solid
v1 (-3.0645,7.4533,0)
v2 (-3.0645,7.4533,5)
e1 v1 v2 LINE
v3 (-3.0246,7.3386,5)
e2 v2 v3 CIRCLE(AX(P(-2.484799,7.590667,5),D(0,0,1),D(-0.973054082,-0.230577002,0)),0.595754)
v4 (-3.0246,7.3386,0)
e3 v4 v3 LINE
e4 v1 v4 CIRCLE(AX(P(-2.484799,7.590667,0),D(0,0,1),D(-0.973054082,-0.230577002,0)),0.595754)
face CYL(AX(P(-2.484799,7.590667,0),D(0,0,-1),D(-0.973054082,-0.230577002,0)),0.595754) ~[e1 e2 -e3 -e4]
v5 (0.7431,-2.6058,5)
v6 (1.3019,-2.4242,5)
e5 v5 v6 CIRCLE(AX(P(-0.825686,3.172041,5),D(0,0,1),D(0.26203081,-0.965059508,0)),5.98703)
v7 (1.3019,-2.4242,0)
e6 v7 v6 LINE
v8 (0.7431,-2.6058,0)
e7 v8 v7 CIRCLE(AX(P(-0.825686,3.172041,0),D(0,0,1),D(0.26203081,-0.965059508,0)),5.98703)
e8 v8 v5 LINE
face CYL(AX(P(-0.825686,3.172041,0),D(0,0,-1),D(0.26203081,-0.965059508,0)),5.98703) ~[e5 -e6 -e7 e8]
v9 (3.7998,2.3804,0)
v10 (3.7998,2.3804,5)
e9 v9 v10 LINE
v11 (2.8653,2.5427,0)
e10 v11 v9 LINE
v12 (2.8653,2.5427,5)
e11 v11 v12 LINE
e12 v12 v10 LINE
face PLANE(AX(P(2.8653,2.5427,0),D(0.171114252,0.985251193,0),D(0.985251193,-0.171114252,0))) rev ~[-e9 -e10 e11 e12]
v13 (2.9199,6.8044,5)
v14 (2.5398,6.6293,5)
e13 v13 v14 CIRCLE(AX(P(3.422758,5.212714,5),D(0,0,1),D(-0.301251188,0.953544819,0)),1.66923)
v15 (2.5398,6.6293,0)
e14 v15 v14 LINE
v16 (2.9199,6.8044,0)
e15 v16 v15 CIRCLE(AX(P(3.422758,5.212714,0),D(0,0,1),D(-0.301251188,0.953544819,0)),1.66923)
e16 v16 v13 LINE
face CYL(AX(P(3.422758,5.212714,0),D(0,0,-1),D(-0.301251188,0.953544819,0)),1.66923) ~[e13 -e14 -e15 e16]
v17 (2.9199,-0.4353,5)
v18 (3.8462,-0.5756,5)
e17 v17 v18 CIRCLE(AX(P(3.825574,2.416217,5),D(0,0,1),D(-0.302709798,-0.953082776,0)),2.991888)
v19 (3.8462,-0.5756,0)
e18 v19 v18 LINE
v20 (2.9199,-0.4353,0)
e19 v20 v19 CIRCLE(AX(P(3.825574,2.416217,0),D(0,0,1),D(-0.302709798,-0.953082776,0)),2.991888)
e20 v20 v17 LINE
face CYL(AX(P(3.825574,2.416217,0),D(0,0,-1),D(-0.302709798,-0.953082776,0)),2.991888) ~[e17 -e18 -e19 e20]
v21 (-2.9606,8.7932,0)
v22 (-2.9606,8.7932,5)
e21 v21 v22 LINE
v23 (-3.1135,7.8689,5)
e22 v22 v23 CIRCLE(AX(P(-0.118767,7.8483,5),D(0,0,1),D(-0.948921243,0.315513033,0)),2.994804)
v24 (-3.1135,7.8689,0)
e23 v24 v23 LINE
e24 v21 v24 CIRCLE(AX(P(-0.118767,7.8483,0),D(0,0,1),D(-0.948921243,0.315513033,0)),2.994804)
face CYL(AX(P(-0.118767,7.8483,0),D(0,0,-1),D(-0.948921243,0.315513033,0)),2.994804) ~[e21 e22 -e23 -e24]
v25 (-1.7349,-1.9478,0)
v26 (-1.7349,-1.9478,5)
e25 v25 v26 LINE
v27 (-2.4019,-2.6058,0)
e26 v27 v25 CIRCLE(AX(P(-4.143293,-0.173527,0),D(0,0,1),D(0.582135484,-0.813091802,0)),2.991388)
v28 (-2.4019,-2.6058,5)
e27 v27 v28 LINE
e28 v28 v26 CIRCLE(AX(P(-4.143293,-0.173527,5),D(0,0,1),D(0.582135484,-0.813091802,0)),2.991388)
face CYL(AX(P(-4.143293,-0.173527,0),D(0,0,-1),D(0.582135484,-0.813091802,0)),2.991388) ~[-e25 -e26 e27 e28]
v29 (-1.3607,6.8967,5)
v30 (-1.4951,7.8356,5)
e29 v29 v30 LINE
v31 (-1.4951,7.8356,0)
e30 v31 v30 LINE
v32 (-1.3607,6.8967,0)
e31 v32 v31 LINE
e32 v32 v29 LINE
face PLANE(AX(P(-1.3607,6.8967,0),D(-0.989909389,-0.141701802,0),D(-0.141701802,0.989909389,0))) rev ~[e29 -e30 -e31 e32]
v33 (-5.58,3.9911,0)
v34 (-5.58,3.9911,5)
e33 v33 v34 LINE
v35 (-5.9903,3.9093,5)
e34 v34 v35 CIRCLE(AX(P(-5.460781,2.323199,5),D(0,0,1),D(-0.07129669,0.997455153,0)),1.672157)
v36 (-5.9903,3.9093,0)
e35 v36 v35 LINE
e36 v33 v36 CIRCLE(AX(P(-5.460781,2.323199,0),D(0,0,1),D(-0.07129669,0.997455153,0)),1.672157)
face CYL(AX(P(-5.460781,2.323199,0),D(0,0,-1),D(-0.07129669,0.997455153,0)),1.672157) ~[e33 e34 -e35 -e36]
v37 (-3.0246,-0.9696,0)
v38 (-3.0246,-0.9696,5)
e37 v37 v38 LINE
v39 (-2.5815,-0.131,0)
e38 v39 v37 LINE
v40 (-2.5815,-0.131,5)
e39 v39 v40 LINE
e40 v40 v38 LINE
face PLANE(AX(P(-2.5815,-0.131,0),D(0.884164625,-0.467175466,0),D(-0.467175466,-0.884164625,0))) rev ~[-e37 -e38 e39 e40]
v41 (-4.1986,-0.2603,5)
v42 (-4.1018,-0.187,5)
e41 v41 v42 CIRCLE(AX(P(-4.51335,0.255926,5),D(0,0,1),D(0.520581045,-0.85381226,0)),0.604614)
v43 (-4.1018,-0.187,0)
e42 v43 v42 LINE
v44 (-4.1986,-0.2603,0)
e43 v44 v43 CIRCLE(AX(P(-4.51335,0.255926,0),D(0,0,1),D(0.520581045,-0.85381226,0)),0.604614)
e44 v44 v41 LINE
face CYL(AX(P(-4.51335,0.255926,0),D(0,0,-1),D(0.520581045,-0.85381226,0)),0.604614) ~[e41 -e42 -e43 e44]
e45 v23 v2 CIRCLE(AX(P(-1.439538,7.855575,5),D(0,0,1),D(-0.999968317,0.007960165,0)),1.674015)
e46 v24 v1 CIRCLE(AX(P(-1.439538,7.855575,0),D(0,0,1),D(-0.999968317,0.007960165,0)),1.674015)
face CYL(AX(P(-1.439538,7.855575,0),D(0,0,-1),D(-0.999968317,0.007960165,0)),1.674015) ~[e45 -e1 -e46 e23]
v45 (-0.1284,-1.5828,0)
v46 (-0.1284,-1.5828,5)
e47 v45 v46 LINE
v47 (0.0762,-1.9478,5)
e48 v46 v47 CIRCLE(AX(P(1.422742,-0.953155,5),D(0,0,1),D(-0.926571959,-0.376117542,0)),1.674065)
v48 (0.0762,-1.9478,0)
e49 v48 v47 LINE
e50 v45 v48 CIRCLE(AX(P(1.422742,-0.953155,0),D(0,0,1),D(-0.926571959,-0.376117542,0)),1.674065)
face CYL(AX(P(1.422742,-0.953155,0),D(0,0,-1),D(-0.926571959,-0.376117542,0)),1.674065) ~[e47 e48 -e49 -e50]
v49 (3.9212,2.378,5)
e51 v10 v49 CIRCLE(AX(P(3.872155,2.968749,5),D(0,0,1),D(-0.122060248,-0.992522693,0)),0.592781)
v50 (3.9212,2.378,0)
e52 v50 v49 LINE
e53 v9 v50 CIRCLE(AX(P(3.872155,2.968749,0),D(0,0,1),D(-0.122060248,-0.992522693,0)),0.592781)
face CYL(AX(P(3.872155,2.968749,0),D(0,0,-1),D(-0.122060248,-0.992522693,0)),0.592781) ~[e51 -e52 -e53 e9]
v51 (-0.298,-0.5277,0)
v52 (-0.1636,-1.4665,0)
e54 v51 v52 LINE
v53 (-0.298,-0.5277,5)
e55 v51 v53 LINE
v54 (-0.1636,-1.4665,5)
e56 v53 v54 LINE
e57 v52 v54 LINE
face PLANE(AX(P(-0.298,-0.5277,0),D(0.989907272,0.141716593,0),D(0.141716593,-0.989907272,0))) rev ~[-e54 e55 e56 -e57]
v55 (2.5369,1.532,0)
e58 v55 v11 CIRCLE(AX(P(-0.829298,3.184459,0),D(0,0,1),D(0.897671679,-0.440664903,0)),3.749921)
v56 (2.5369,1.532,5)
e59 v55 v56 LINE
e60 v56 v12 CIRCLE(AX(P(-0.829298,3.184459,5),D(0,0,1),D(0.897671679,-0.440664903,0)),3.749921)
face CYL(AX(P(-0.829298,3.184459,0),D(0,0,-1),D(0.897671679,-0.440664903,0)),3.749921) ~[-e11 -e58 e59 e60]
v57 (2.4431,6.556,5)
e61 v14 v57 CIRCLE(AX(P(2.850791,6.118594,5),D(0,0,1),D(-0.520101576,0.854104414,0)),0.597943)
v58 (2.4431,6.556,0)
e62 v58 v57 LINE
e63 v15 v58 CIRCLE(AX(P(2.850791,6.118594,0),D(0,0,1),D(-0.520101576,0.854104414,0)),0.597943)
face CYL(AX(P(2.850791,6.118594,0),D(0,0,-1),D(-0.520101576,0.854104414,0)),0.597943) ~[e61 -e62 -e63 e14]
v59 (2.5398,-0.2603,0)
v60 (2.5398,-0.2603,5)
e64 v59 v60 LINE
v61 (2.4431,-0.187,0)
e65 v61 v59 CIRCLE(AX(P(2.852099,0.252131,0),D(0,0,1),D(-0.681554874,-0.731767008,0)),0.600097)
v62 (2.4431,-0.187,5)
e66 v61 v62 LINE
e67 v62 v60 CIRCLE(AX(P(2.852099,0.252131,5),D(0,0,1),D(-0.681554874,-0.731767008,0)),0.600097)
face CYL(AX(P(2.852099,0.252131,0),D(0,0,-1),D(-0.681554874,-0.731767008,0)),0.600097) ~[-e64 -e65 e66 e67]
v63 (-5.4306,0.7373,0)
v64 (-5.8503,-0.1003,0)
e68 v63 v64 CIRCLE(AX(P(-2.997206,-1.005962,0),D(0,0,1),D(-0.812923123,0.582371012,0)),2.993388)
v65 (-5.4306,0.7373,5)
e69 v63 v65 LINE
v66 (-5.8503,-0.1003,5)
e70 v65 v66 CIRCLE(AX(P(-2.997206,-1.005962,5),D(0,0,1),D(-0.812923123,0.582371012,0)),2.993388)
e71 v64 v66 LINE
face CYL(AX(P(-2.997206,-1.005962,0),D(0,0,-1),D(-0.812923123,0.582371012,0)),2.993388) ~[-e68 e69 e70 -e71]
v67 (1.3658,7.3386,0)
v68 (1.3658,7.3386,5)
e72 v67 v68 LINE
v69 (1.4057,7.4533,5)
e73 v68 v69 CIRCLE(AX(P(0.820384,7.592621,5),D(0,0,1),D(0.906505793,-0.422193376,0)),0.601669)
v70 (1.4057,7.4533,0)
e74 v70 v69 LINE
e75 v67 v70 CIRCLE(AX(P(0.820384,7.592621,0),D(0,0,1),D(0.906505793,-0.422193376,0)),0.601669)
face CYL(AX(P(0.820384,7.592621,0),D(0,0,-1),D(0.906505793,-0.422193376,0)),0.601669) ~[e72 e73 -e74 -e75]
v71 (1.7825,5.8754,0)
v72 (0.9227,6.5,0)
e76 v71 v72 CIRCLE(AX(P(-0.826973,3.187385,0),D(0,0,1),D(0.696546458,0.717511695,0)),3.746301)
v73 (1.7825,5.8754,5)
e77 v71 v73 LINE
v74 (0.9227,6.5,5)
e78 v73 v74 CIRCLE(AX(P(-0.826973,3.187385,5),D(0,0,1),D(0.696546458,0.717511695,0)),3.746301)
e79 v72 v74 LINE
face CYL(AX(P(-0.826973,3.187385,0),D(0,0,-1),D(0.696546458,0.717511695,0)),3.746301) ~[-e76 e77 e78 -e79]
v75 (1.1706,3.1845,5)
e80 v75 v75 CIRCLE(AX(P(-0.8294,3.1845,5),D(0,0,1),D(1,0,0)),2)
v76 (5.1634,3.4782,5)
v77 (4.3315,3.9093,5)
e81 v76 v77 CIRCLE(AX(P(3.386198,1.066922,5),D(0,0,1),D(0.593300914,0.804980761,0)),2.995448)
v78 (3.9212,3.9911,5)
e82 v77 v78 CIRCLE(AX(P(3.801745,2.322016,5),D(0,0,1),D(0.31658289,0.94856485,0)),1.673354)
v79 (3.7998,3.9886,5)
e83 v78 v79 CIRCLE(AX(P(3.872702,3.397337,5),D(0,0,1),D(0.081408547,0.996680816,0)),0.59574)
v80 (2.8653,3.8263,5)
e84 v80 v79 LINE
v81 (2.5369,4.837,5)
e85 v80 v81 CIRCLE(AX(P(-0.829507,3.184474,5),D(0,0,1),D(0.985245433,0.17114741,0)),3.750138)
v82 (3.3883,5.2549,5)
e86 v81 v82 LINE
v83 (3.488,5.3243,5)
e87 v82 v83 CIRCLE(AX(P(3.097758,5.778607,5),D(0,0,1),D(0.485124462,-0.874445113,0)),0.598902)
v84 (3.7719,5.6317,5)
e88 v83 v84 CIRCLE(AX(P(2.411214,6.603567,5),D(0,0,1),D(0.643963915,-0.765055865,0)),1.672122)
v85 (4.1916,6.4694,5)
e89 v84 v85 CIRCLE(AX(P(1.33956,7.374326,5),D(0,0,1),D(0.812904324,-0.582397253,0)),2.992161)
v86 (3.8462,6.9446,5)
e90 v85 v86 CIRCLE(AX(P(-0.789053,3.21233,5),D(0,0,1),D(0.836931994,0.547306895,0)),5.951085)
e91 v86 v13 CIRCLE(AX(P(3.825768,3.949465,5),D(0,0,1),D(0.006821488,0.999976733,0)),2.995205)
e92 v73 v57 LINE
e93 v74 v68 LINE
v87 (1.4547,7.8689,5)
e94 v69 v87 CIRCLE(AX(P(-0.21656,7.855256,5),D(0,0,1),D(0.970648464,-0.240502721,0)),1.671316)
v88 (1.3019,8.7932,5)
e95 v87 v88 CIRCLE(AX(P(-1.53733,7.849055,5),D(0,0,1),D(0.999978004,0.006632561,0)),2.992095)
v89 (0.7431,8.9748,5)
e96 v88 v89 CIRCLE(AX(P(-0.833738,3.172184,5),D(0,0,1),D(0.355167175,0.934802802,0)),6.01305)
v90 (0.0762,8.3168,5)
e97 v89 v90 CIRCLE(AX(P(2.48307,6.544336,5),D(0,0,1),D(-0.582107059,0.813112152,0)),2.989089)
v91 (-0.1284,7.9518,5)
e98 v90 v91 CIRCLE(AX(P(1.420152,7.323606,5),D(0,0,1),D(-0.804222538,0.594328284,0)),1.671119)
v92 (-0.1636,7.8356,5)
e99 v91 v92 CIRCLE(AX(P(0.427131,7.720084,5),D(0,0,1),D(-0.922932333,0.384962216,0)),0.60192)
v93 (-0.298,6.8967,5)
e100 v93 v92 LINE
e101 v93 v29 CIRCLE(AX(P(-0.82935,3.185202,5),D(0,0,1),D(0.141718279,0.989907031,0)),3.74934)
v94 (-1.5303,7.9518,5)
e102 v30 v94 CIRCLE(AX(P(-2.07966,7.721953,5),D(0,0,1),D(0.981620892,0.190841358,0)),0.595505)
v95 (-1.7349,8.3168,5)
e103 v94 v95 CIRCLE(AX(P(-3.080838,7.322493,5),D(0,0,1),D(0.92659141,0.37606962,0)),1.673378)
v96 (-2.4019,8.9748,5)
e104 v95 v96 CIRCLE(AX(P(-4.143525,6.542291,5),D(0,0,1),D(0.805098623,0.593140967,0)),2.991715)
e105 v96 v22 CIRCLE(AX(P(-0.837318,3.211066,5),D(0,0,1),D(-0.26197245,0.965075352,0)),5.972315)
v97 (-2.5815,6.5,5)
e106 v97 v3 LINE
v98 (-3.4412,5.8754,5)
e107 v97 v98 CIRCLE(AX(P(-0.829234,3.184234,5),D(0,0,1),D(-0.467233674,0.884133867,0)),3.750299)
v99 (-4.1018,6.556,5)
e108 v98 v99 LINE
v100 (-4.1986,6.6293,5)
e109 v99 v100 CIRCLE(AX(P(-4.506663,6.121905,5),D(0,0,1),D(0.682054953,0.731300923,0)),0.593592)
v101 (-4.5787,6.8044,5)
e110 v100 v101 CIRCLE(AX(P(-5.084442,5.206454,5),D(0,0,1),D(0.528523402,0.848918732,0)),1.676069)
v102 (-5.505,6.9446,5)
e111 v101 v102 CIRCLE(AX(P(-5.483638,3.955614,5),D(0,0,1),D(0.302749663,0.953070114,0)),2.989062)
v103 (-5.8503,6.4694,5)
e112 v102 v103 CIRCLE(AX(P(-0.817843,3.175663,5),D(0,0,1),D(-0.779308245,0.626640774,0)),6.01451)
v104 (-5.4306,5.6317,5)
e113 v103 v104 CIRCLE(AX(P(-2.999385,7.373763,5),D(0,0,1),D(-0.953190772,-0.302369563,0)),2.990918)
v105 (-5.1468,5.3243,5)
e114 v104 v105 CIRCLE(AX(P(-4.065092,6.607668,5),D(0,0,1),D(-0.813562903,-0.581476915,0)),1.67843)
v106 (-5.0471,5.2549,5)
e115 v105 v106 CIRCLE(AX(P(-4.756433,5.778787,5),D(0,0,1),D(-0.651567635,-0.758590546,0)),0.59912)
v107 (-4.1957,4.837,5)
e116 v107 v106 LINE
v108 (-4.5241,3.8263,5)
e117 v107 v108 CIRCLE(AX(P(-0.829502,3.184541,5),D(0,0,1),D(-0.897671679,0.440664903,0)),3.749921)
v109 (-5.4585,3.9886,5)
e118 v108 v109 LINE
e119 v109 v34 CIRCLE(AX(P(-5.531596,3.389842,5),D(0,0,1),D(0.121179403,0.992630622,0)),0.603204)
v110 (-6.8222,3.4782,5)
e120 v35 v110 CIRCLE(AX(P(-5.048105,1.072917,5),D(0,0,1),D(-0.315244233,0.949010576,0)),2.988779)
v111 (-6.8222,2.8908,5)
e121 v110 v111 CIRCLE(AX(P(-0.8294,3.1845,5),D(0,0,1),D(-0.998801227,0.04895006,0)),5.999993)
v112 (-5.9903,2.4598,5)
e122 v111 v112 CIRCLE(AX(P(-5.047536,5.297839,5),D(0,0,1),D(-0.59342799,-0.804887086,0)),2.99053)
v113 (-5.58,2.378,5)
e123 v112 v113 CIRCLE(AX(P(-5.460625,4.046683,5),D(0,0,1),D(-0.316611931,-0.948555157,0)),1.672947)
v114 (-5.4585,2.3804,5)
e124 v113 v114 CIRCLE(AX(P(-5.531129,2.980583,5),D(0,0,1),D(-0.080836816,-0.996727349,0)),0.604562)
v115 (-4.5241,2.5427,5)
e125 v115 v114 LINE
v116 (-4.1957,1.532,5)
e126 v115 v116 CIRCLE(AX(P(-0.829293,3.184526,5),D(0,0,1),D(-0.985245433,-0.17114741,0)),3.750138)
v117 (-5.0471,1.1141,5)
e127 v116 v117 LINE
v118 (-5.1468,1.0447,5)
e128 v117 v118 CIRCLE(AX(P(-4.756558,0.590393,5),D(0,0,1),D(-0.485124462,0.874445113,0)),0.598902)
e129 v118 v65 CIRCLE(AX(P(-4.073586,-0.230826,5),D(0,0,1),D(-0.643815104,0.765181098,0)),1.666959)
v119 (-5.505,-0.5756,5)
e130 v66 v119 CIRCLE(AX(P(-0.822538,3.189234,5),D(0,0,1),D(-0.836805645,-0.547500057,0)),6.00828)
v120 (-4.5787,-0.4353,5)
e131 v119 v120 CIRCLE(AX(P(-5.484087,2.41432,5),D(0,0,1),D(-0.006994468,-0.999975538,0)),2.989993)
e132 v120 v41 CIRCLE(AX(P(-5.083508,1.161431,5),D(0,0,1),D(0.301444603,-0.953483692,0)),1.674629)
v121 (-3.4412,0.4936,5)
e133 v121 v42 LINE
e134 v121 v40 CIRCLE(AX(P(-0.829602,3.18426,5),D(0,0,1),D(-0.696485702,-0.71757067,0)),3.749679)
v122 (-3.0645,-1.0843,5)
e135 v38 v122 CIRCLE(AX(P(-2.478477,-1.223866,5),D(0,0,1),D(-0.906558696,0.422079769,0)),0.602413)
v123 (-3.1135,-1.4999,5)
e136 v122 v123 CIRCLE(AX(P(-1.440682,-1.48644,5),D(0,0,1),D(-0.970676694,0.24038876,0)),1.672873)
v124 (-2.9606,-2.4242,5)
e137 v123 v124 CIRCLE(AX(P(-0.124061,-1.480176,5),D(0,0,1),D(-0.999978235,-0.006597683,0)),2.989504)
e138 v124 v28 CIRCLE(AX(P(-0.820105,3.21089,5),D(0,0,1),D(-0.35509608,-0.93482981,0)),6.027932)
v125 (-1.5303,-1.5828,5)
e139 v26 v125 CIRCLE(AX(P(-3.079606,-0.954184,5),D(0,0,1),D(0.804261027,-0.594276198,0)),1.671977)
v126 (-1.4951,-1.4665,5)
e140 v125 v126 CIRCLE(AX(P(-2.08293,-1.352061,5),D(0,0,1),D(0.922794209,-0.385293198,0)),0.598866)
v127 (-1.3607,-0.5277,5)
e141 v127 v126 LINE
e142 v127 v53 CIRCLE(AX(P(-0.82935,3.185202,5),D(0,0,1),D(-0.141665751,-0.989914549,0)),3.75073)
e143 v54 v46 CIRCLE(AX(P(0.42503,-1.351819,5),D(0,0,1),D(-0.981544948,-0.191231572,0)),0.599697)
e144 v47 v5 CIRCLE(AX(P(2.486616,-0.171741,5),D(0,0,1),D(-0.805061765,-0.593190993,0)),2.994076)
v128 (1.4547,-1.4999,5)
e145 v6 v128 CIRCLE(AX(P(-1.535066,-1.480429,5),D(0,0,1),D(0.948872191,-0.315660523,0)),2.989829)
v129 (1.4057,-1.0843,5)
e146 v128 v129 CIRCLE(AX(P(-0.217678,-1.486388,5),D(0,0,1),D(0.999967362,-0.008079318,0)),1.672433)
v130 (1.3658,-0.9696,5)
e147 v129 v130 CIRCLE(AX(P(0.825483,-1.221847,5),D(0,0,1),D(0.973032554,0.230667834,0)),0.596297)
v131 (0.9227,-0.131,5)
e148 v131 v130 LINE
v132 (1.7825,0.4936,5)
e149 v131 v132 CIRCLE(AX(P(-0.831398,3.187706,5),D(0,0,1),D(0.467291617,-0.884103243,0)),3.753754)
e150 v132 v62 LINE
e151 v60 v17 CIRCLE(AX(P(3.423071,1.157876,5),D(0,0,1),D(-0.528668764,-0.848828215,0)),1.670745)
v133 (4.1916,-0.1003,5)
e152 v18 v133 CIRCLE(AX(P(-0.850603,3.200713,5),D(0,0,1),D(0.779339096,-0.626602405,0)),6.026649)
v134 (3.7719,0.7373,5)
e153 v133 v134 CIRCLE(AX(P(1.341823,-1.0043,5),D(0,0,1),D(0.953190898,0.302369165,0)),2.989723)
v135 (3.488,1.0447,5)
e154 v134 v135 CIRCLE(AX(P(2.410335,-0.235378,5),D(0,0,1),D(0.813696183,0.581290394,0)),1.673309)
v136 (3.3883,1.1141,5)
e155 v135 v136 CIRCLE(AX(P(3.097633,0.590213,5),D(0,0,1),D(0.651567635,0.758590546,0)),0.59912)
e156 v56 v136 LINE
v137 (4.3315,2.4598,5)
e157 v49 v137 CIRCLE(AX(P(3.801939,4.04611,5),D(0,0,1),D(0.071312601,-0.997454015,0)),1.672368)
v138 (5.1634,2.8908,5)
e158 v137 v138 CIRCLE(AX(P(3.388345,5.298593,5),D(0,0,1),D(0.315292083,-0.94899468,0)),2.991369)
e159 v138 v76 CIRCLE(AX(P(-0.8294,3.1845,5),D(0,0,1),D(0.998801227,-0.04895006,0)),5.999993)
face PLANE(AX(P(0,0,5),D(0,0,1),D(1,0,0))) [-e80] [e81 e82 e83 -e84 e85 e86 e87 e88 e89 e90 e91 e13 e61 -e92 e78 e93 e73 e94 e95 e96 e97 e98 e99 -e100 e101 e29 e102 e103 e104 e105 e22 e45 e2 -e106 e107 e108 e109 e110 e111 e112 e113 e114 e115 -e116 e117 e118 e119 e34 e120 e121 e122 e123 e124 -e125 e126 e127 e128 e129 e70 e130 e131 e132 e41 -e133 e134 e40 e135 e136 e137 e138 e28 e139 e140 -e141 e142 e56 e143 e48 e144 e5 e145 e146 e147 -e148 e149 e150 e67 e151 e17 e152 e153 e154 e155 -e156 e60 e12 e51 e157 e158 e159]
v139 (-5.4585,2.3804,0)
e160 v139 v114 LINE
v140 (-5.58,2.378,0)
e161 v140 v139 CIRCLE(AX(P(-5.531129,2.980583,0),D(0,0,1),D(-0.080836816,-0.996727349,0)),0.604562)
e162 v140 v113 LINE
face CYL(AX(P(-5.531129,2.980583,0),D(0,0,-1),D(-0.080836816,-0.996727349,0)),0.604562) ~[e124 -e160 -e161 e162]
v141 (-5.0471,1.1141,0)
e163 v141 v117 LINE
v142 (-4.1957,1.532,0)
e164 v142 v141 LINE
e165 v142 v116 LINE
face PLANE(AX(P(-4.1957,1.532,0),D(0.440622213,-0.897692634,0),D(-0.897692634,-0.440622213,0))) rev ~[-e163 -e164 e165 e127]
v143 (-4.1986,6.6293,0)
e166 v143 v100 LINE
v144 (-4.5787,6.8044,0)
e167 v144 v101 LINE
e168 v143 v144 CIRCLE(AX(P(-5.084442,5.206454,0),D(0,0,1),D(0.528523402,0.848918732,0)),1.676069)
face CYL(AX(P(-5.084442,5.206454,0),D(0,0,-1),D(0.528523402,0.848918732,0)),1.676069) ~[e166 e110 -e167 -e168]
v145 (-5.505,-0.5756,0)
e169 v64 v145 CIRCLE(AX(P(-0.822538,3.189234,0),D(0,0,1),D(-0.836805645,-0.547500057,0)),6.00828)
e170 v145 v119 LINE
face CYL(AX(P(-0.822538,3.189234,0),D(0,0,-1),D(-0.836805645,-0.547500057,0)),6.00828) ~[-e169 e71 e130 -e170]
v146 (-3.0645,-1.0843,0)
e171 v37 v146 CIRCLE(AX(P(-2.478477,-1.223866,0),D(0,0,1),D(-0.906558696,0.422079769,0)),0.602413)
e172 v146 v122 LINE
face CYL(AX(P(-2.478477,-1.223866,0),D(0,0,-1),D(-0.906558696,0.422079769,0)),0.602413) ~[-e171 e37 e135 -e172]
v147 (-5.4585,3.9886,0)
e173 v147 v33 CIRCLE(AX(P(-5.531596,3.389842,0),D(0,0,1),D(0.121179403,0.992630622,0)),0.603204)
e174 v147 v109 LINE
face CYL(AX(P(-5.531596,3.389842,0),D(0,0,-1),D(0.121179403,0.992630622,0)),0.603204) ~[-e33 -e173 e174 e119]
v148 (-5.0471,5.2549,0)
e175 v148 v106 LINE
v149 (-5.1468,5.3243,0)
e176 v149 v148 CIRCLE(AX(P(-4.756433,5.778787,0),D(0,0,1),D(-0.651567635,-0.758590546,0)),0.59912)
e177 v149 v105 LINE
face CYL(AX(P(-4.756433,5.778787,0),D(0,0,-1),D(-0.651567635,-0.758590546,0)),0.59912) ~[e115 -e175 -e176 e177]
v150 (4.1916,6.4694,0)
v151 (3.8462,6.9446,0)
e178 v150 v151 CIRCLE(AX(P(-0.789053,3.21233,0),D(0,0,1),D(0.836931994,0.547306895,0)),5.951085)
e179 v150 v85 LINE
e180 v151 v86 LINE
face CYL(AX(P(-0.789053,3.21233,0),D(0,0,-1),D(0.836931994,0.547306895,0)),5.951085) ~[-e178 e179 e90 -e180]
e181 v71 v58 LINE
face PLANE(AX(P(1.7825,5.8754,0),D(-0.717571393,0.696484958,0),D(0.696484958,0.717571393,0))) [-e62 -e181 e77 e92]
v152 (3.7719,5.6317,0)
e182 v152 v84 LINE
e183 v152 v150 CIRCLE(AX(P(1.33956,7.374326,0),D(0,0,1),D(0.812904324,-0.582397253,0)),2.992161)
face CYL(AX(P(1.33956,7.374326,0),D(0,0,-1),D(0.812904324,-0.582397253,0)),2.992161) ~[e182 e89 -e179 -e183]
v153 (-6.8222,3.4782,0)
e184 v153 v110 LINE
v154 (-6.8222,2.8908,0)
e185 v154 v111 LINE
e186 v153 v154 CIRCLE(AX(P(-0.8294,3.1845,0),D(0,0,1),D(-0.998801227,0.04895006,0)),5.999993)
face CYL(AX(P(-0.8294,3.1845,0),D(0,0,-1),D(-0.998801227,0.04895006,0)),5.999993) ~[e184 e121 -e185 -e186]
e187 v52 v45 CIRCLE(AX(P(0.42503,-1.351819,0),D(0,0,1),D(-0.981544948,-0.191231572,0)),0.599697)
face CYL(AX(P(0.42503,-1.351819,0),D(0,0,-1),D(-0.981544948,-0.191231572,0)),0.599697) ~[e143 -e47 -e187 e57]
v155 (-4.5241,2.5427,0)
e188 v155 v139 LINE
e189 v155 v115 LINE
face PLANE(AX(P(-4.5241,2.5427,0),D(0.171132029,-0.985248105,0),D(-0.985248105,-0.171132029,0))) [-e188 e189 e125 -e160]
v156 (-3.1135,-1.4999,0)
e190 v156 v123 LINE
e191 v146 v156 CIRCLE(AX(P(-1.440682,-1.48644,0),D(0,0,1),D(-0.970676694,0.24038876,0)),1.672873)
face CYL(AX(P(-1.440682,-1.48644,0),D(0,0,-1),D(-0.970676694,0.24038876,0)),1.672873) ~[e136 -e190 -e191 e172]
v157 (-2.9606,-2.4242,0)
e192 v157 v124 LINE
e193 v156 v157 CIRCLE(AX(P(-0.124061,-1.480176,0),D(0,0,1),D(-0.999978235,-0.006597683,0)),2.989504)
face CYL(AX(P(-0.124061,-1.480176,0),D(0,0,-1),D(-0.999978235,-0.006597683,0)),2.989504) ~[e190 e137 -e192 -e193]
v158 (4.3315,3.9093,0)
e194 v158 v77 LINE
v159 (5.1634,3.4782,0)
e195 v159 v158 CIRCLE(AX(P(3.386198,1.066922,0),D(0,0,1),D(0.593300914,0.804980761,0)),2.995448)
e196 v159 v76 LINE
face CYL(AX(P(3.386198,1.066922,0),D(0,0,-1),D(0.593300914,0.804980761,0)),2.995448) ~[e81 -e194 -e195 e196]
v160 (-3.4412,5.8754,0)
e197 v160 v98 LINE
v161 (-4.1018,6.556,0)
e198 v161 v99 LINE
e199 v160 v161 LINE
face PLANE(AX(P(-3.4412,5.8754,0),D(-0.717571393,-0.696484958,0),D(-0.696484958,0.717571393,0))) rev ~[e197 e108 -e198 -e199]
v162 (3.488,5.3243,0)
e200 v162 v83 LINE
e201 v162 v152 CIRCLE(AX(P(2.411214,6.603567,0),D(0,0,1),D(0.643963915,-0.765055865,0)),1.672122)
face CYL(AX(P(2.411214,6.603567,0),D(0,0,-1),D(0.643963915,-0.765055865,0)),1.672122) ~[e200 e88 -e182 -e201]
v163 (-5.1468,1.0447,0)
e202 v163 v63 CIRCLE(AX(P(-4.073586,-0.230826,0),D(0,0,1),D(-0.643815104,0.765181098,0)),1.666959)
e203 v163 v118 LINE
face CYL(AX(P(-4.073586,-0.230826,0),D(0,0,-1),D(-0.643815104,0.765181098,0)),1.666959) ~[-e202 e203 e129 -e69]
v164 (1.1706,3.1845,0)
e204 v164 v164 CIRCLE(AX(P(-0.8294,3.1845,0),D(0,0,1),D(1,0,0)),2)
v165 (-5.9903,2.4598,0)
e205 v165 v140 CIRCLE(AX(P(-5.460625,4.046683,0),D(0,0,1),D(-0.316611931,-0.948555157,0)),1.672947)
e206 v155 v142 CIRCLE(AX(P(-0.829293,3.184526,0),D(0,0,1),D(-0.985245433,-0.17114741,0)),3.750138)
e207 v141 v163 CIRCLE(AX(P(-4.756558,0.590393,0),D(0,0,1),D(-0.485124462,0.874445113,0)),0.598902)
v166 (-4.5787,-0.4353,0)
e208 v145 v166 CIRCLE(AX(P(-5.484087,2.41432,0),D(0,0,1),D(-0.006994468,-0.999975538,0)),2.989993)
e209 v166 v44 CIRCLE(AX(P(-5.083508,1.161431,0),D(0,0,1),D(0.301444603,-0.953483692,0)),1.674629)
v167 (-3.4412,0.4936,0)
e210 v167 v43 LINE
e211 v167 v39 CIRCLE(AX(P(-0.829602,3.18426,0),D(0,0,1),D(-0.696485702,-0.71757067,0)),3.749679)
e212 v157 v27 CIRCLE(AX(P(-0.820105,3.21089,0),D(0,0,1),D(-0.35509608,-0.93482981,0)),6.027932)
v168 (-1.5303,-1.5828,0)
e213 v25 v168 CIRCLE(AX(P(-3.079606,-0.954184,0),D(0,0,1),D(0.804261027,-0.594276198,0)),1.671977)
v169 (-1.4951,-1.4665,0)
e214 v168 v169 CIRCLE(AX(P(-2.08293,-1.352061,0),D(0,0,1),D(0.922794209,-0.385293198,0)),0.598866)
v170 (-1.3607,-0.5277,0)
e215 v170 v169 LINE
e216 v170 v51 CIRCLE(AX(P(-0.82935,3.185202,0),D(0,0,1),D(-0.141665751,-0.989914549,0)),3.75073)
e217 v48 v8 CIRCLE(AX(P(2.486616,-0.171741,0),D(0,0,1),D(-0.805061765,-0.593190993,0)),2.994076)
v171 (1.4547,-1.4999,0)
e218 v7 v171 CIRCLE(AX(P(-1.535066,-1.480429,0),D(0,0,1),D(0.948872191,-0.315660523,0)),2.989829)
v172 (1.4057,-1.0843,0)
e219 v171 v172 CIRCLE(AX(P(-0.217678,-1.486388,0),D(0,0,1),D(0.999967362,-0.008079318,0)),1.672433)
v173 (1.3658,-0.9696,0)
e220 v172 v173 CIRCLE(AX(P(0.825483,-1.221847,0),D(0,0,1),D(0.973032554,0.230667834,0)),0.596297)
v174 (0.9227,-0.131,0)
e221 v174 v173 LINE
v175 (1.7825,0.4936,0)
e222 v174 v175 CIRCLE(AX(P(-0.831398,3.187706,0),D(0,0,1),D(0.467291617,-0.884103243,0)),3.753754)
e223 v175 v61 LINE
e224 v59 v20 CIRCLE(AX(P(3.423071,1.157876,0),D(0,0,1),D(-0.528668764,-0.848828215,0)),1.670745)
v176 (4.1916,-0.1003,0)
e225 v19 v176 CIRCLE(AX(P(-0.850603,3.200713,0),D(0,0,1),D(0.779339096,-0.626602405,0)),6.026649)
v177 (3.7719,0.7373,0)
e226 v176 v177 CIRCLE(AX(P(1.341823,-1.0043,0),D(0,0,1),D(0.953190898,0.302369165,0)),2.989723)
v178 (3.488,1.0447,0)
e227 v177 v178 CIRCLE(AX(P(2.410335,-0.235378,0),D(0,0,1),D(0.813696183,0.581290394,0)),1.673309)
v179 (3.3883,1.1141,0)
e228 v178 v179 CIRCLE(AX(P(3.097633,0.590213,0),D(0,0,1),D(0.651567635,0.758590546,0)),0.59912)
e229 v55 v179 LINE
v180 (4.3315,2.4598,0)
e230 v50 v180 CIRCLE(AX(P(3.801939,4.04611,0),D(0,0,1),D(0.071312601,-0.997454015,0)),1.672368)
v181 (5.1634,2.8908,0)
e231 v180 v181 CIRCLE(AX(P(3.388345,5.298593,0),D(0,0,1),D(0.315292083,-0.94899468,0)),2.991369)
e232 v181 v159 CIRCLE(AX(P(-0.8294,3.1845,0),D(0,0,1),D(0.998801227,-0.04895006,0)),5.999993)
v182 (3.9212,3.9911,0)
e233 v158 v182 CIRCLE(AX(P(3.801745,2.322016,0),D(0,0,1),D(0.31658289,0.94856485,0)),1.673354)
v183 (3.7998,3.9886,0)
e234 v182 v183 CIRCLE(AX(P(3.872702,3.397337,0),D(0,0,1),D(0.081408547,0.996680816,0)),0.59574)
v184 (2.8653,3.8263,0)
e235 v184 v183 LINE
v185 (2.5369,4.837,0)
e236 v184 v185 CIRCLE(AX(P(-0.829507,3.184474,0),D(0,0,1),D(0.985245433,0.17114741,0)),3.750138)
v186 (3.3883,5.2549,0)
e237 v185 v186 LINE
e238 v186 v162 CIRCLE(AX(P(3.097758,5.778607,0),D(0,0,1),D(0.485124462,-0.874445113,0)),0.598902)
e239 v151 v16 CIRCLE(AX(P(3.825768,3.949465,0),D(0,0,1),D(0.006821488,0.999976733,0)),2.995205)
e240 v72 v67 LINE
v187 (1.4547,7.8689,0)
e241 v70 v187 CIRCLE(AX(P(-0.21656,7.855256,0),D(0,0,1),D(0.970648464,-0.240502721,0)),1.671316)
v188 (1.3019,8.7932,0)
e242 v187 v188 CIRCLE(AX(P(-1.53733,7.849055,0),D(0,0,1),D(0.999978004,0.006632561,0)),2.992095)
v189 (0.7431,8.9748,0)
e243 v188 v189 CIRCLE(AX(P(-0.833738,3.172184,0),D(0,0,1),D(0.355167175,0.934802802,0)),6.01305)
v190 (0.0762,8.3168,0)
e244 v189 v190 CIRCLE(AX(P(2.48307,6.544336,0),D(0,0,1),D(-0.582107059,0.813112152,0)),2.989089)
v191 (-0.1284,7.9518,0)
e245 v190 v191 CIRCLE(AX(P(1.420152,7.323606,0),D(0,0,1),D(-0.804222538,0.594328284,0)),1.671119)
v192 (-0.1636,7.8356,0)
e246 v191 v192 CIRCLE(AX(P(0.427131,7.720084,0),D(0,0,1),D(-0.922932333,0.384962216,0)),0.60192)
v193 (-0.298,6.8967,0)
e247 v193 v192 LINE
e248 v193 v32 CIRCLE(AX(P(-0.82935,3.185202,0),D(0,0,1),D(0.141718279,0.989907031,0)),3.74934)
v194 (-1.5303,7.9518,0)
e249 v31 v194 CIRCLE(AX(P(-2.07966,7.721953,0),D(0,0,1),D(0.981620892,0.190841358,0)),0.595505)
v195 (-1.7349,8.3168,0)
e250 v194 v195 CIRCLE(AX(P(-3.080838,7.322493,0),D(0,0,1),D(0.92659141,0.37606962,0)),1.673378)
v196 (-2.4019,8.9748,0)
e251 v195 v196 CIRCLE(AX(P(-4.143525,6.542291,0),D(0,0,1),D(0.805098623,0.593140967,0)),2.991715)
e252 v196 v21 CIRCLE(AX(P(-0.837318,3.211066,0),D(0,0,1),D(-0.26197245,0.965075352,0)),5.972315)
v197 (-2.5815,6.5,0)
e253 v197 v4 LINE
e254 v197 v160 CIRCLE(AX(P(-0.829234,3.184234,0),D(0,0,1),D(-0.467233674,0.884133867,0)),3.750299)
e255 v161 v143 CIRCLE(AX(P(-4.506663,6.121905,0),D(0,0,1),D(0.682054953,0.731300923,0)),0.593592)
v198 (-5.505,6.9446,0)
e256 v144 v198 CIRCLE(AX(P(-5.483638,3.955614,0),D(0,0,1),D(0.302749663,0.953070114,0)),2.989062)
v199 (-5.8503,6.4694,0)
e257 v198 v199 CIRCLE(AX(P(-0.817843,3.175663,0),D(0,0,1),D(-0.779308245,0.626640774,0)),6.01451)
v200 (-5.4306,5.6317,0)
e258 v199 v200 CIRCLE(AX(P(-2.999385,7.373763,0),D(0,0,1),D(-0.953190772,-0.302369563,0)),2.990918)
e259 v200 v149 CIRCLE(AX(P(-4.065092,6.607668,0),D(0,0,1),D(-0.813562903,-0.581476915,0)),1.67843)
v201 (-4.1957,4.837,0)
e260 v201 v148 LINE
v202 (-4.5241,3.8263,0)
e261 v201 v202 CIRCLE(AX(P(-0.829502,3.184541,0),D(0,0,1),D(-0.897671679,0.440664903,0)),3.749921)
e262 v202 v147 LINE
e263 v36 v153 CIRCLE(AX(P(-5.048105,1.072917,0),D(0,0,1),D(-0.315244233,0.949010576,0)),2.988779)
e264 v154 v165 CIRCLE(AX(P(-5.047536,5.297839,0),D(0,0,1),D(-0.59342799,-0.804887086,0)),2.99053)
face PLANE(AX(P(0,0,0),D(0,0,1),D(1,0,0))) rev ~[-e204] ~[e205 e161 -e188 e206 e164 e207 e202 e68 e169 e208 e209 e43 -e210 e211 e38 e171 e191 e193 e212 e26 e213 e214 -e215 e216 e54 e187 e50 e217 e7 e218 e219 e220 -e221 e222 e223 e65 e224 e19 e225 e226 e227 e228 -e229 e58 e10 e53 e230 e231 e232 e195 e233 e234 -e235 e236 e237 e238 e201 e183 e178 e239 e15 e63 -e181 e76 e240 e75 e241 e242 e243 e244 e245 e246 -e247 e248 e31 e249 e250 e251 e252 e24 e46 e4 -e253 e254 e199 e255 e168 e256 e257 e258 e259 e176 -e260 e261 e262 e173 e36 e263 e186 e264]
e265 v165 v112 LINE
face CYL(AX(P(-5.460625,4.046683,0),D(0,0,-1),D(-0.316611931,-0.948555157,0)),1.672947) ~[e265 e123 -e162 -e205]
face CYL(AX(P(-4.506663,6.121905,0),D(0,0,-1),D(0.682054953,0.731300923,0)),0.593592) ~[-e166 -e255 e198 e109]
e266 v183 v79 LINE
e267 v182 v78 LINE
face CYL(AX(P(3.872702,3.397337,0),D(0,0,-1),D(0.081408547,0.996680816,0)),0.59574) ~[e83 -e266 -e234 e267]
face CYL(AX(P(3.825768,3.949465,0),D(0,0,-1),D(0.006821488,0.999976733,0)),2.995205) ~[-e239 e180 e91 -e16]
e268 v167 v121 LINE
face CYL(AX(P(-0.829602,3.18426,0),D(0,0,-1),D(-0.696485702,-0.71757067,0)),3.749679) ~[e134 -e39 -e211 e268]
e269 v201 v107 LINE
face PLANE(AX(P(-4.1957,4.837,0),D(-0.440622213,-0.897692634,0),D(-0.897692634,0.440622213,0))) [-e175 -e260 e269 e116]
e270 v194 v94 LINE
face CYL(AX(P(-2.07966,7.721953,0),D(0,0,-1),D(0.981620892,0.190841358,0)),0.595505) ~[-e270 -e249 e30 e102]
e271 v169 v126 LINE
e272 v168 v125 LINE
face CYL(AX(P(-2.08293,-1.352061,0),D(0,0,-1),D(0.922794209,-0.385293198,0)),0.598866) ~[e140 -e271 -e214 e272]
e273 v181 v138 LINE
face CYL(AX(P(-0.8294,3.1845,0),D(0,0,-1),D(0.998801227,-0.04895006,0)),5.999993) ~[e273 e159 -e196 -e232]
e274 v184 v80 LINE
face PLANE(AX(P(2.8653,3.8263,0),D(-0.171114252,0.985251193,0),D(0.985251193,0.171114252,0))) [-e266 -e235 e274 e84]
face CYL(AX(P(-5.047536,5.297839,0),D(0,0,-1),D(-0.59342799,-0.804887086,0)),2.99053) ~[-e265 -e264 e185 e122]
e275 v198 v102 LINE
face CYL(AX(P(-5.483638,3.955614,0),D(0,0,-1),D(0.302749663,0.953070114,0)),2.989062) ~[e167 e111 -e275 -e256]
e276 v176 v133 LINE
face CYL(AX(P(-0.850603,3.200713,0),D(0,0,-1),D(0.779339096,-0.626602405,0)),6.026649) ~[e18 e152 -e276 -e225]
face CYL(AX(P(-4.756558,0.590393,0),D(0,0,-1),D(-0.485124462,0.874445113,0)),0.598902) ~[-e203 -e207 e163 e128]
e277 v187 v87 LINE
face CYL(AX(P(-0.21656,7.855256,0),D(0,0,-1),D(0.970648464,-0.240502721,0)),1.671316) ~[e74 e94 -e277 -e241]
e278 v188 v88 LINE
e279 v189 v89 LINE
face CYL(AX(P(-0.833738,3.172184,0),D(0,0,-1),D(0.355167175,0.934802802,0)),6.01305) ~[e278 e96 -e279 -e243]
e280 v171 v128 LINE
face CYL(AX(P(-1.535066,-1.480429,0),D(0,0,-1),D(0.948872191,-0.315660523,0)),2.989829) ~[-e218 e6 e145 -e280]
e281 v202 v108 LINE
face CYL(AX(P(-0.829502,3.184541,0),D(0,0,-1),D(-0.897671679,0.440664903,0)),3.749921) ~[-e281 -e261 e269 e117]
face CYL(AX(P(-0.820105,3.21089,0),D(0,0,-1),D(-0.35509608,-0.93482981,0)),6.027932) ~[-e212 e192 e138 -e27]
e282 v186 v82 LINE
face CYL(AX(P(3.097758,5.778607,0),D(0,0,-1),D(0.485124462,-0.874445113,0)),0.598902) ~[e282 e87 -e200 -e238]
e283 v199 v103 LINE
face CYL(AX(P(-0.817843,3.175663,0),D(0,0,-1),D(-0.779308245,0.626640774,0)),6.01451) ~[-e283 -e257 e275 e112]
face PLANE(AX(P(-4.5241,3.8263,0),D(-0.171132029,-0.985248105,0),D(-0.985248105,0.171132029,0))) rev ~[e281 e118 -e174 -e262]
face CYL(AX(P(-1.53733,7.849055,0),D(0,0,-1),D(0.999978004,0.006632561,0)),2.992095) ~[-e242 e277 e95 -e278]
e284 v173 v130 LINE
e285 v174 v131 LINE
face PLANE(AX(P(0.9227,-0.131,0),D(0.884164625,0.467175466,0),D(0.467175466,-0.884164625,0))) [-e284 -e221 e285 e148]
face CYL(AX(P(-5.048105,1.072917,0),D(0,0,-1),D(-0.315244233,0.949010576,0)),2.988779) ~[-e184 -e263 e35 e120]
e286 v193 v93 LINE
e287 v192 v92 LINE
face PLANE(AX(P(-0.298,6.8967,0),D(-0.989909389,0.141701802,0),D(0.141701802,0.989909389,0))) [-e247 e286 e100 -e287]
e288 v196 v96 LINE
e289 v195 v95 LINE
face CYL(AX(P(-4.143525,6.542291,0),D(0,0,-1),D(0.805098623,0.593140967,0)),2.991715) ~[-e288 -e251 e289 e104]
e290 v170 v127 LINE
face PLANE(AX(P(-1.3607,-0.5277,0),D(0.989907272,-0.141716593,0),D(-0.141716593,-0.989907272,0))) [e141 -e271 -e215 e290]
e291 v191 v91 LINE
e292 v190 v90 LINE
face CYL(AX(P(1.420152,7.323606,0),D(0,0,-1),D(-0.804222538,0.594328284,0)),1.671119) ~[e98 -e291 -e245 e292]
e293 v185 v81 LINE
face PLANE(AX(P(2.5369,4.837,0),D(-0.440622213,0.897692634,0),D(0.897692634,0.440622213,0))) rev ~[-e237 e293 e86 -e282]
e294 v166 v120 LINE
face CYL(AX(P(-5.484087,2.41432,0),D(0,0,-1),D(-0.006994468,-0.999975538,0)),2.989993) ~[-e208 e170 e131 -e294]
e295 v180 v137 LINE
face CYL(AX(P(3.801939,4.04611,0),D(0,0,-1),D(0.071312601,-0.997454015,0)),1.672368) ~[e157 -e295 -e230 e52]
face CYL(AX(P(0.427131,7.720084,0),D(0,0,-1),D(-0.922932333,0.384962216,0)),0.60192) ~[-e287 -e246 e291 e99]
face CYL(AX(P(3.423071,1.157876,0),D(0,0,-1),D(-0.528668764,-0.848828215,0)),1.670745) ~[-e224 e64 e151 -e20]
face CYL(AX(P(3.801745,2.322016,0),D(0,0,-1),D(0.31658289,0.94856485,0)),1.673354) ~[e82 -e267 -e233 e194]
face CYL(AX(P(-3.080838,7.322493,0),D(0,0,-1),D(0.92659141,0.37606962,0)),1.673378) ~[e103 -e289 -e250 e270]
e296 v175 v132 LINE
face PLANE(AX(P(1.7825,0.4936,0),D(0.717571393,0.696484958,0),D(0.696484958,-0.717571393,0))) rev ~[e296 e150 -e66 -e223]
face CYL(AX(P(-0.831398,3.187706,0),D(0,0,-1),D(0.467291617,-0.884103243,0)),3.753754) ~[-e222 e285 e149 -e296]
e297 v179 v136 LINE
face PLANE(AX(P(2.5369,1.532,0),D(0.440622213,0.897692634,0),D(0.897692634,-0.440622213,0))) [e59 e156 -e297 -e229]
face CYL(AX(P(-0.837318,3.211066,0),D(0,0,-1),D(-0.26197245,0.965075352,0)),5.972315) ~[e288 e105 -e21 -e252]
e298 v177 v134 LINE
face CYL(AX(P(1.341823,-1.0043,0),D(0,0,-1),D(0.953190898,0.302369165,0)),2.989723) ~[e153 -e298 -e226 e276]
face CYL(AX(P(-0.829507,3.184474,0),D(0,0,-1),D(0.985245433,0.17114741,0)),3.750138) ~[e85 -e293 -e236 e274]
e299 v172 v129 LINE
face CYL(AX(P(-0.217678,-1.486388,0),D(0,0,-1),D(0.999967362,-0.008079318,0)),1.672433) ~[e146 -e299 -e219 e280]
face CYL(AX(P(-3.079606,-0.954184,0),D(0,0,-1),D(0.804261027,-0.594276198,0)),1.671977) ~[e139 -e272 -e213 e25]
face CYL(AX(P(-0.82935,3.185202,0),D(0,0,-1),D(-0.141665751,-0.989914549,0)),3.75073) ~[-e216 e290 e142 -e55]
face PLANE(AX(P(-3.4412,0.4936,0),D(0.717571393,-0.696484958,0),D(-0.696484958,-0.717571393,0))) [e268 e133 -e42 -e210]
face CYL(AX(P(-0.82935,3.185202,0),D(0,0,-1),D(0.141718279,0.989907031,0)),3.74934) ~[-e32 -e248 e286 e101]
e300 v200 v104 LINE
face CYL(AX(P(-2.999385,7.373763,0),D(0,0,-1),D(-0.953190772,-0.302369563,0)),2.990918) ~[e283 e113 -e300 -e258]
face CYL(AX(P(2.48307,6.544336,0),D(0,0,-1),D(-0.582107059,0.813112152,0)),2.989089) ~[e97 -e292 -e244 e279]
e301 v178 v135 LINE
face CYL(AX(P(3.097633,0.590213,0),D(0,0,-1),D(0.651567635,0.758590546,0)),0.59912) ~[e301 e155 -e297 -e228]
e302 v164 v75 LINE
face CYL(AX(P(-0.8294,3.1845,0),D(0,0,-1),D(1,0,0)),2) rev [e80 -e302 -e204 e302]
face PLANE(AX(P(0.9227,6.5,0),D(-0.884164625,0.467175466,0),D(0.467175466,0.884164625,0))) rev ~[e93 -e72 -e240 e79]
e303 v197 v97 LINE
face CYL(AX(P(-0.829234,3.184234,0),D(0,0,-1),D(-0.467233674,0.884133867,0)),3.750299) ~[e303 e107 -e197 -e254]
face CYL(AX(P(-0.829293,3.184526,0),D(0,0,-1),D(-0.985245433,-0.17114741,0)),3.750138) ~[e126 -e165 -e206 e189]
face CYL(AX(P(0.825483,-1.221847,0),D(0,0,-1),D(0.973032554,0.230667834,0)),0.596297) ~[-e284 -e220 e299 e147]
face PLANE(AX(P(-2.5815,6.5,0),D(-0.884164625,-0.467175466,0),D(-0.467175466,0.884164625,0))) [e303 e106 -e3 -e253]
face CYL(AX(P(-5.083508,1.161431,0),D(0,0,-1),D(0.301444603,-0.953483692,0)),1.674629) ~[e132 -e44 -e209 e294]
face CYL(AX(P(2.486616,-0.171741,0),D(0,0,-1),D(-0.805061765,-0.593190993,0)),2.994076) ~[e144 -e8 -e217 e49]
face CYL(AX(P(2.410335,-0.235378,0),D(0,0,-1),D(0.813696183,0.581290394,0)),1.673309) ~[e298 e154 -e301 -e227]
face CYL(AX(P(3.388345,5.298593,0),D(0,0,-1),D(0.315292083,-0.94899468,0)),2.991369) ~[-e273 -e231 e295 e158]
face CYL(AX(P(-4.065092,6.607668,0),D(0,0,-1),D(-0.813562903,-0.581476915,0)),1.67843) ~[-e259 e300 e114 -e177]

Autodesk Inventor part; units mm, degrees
ref_plane "YZ Plane" through (0, 0, 0) normal (1, 0, 0) x (0, 1, 0)
ref_plane "XZ Plane" through (0, 0, 0) normal (0, 1, 0) x (-1, 0, 0)
ref_plane "XY Plane" through (0, 0, 0) normal (0, 0, 1) x (1, 0, 0)
sketch "スケッチ1" plane through (0, 0, 0) normal (0, 0, 1) x (1, 0, 0)
  arc A0 (-0.1284, 7.9518) -> (-0.1636, 7.8356) centre (0.4243, 7.7211) ccw
  arc A1 (0.0762, 8.3168) -> (-0.1284, 7.9518) centre (1.4214, 7.3228) ccw
  arc A2 (0.7431, 8.9748) -> (0.0762, 8.3168) centre (2.4847, 6.5424) ccw
  arc A3 (-1.4951, 7.8356) -> (-1.5303, 7.9518) centre (-2.0831, 7.7211) ccw
  arc A4 (-1.5303, 7.9518) -> (-1.7349, 8.3168) centre (-3.0802, 7.3228) ccw
  arc A5 (-1.7349, 8.3168) -> (-2.4019, 8.9748) centre (-4.1434, 6.5424) ccw
  arc A6 (-0.298, 6.8967) -> (-1.3607, 6.8967) centre (-0.8294, 3.1845) ccw
  arc A7 (-2.4019, 8.9748) -> (-2.9606, 8.7932) centre (-0.8294, 3.1845) ccw
  line L0 (-0.298, 6.8967) -> (-0.1636, 7.8356)
  line L1 (-1.3607, 6.8967) -> (-1.4951, 7.8356)
  line L2 (-3.4412, 5.8754) -> (-4.1018, 6.556)
  arc A8 (-4.1018, 6.556) -> (-4.1986, 6.6293) centre (-4.5102, 6.1177) ccw
  arc A9 (-4.1986, 6.6293) -> (-4.5787, 6.8044) centre (-5.0828, 5.2095) ccw
  arc A10 (-4.5787, 6.8044) -> (-5.505, 6.9446) centre (-5.4842, 3.9532) ccw
  arc A11 (-5.505, 6.9446) -> (-5.8503, 6.4694) centre (-0.8294, 3.1845) ccw
  arc A12 (-2.5815, 6.5) -> (-3.4412, 5.8754) centre (-0.8294, 3.1845) ccw
  line L3 (-2.5815, 6.5) -> (-3.0246, 7.3386)
  arc A13 (-3.0645, 7.4533) -> (-3.0246, 7.3386) centre (-2.4816, 7.5916) ccw
  arc A14 (-3.1135, 7.8689) -> (-3.0645, 7.4533) centre (-1.4409, 7.8555) ccw
  arc A15 (-2.9606, 8.7932) -> (-3.1135, 7.8689) centre (-0.122, 7.8491) ccw
  line L4 (-4.5241, 3.8263) -> (-5.4585, 3.9886)
  arc A16 (-5.4585, 3.9886) -> (-5.58, 3.9911) centre (-5.5313, 3.394) ccw
  arc A17 (-5.58, 3.9911) -> (-5.9903, 3.9093) centre (-5.4607, 2.3226) ccw
  arc A18 (-5.9903, 3.9093) -> (-6.8222, 3.4782) centre (-5.047, 1.0703) ccw
  arc A19 (-6.8222, 3.4782) -> (-6.8222, 2.8908) centre (-0.8294, 3.1845) ccw
  arc A20 (-4.1957, 4.837) -> (-4.5241, 3.8263) centre (-0.8294, 3.1845) ccw
  line L5 (-4.1957, 4.837) -> (-5.0471, 5.2549)
  arc A21 (-5.1468, 5.3243) -> (-5.0471, 5.2549) centre (-4.7565, 5.7787) ccw
  arc A22 (-5.4306, 5.6317) -> (-5.1468, 5.3243) centre (-4.0696, 6.604) ccw
  arc A23 (-5.8503, 6.4694) -> (-5.4306, 5.6317) centre (-2.9988, 7.374) ccw
  line L6 (-4.1957, 1.532) -> (-5.0471, 1.1141)
  arc A24 (-5.0471, 1.1141) -> (-5.1468, 1.0447) centre (-4.7565, 0.5903) ccw
  arc A25 (-5.1468, 1.0447) -> (-5.4306, 0.7373) centre (-4.0696, -0.235) ccw
  arc A26 (-5.4306, 0.7373) -> (-5.8503, -0.1003) centre (-2.9988, -1.005) ccw
  arc A27 (-5.8503, -0.1003) -> (-5.505, -0.5756) centre (-0.8294, 3.1845) ccw
  arc A28 (-4.5241, 2.5427) -> (-4.1957, 1.532) centre (-0.8294, 3.1845) ccw
  line L7 (-4.5241, 2.5427) -> (-5.4585, 2.3804)
  arc A29 (-5.58, 2.378) -> (-5.4585, 2.3804) centre (-5.5313, 2.975) ccw
  arc A30 (-5.9903, 2.4598) -> (-5.58, 2.378) centre (-5.4607, 4.0464) ccw
  arc A31 (-6.8222, 2.8908) -> (-5.9903, 2.4598) centre (-5.047, 5.2987) ccw
  line L8 (-2.5815, -0.131) -> (-3.0246, -0.9696)
  arc A32 (-3.0246, -0.9696) -> (-3.0645, -1.0843) centre (-2.4816, -1.2226) ccw
  arc A33 (-3.0645, -1.0843) -> (-3.1135, -1.4999) centre (-1.4409, -1.4864) ccw
  arc A34 (-3.1135, -1.4999) -> (-2.9606, -2.4242) centre (-0.122, -1.48) ccw
  arc A35 (-2.9606, -2.4242) -> (-2.4019, -2.6058) centre (-0.8294, 3.1845) ccw
  arc A36 (-3.4412, 0.4936) -> (-2.5815, -0.131) centre (-0.8294, 3.1845) ccw
  line L9 (-3.4412, 0.4936) -> (-4.1018, -0.187)
  arc A37 (-4.1986, -0.2603) -> (-4.1018, -0.187) centre (-4.5102, 0.2513) ccw
  arc A38 (-4.5787, -0.4353) -> (-4.1986, -0.2603) centre (-5.0828, 1.1596) ccw
  arc A39 (-5.505, -0.5756) -> (-4.5787, -0.4353) centre (-5.4842, 2.4159) ccw
  line L10 (-0.298, -0.5277) -> (-0.1636, -1.4665)
  arc A40 (-0.1636, -1.4665) -> (-0.1284, -1.5828) centre (0.4243, -1.352) ccw
  arc A41 (-0.1284, -1.5828) -> (0.0762, -1.9478) centre (1.4214, -0.9538) ccw
  arc A42 (0.0762, -1.9478) -> (0.7431, -2.6058) centre (2.4847, -0.1734) ccw
  arc A43 (0.7431, -2.6058) -> (1.3019, -2.4242) centre (-0.8294, 3.1845) ccw
  arc A44 (-1.3607, -0.5277) -> (-0.298, -0.5277) centre (-0.8294, 3.1845) ccw
  line L11 (-1.3607, -0.5277) -> (-1.4951, -1.4665)
  arc A45 (-1.5303, -1.5828) -> (-1.4951, -1.4665) centre (-2.0831, -1.352) ccw
  arc A46 (-1.7349, -1.9478) -> (-1.5303, -1.5828) centre (-3.0802, -0.9538) ccw
  arc A47 (-2.4019, -2.6058) -> (-1.7349, -1.9478) centre (-4.1434, -0.1734) ccw
  line L12 (1.7825, 0.4936) -> (2.4431, -0.187)
  arc A48 (2.4431, -0.187) -> (2.5398, -0.2603) centre (2.8514, 0.2513) ccw
  arc A49 (2.5398, -0.2603) -> (2.9199, -0.4353) centre (3.424, 1.1596) ccw
  arc A50 (2.9199, -0.4353) -> (3.8462, -0.5756) centre (3.8255, 2.4159) ccw
  arc A51 (3.8462, -0.5756) -> (4.1916, -0.1003) centre (-0.8294, 3.1845) ccw
  arc A52 (0.9227, -0.131) -> (1.7825, 0.4936) centre (-0.8294, 3.1845) ccw
  line L13 (0.9227, -0.131) -> (1.3658, -0.9696)
  arc A53 (1.4057, -1.0843) -> (1.3658, -0.9696) centre (0.8229, -1.2226) ccw
  arc A54 (1.4547, -1.4999) -> (1.4057, -1.0843) centre (-0.2179, -1.4864) ccw
  arc A55 (1.3019, -2.4242) -> (1.4547, -1.4999) centre (-1.5368, -1.48) ccw
  line L14 (2.8653, 2.5427) -> (3.7998, 2.3804)
  arc A56 (3.7998, 2.3804) -> (3.9212, 2.378) centre (3.8726, 2.975) ccw
  arc A57 (3.9212, 2.378) -> (4.3315, 2.4598) centre (3.8019, 4.0464) ccw
  arc A58 (4.3315, 2.4598) -> (5.1634, 2.8908) centre (3.3883, 5.2987) ccw
  arc A59 (5.1634, 2.8908) -> (5.1634, 3.4782) centre (-0.8294, 3.1845) ccw
  arc A60 (2.5369, 1.532) -> (2.8653, 2.5427) centre (-0.8294, 3.1845) ccw
  line L15 (2.5369, 1.532) -> (3.3883, 1.1141)
  arc A61 (3.488, 1.0447) -> (3.3883, 1.1141) centre (3.0977, 0.5903) ccw
  arc A62 (3.7719, 0.7373) -> (3.488, 1.0447) centre (2.4108, -0.235) ccw
  arc A63 (4.1916, -0.1003) -> (3.7719, 0.7373) centre (1.3401, -1.005) ccw
  line L16 (2.5369, 4.837) -> (3.3883, 5.2549)
  arc A64 (3.3883, 5.2549) -> (3.488, 5.3243) centre (3.0977, 5.7787) ccw
  arc A65 (3.488, 5.3243) -> (3.7719, 5.6317) centre (2.4108, 6.604) ccw
  arc A66 (3.7719, 5.6317) -> (4.1916, 6.4694) centre (1.3401, 7.374) ccw
  arc A67 (4.1916, 6.4694) -> (3.8462, 6.9446) centre (-0.8294, 3.1845) ccw
  arc A68 (2.8653, 3.8263) -> (2.5369, 4.837) centre (-0.8294, 3.1845) ccw
  line L17 (2.8653, 3.8263) -> (3.7998, 3.9886)
  arc A69 (3.9212, 3.9911) -> (3.7998, 3.9886) centre (3.8726, 3.394) ccw
  arc A70 (4.3315, 3.9093) -> (3.9212, 3.9911) centre (3.8019, 2.3226) ccw
  arc A71 (5.1634, 3.4782) -> (4.3315, 3.9093) centre (3.3883, 1.0703) ccw
  line L18 (0.9227, 6.5) -> (1.3658, 7.3386)
  arc A72 (1.3658, 7.3386) -> (1.4057, 7.4533) centre (0.8229, 7.5916) ccw
  arc A73 (1.4057, 7.4533) -> (1.4547, 7.8689) centre (-0.2179, 7.8555) ccw
  arc A74 (1.4547, 7.8689) -> (1.3019, 8.7932) centre (-1.5368, 7.8491) ccw
  arc A75 (1.3019, 8.7932) -> (0.7431, 8.9748) centre (-0.8294, 3.1845) ccw
  arc A76 (1.7825, 5.8754) -> (0.9227, 6.5) centre (-0.8294, 3.1845) ccw
  line L19 (1.7825, 5.8754) -> (2.4431, 6.556)
  arc A77 (2.5398, 6.6293) -> (2.4431, 6.556) centre (2.8514, 6.1177) ccw
  arc A78 (2.9199, 6.8044) -> (2.5398, 6.6293) centre (3.424, 5.2095) ccw
  arc A79 (3.8462, 6.9446) -> (2.9199, 6.8044) centre (3.8255, 3.9532) ccw
  circle A80 centre (-0.8294, 3.1845) radius 2
  point P0 (0, 0)
  point P1 (-0.1319, -1.5742)
  point P2 (0.073, -1.9435)
  point P3 (0.7431, -2.6058)
  point P4 (1.3019, -2.4242)
  point P5 (1.4547, -1.4946)
  point P6 (1.4035, -1.0753)
  point P7 (2.4431, -0.187)
  point P8 (2.532, -0.2554)
  point P9 (2.9149, -0.4337)
  point P10 (3.8462, -0.5756)
  point P11 (4.1916, -0.1003)
  point P12 (3.7688, 0.7416)
  point P13 (3.4809, 1.0507)
  point P14 (3.3883, 1.1141)
  point P15 (2.5369, 1.532)
  point P16 (3.912, 2.3773)
  point P17 (4.3265, 2.4581)
  point P18 (5.1634, 2.8908)
  point P19 (5.1634, 3.4782)
  point P20 (4.3265, 3.9109)
  point P21 (3.912, 3.9917)
  point P22 (2.8653, 3.8263)
  point P23 (2.5369, 4.837)
  point P24 (3.4809, 5.3184)
  point P25 (3.7688, 5.6274)
  point P26 (4.1916, 6.4694)
  point P27 (3.8462, 6.9446)
  point P28 (2.9149, 6.8028)
  point P29 (2.532, 6.6245)
  point P30 (1.3658, 7.3386)
  point P31 (1.4035, 7.4444)
  point P32 (1.4547, 7.8636)
  point P33 (1.3019, 8.7932)
  point P34 (0.7431, 8.9748)
  point P35 (0.073, 8.3125)
  point P36 (-0.1319, 7.9433)
  point P37 (-0.1636, 7.8356)
  point P38 (-0.298, 6.8967)
  point P39 (-1.3607, 6.8967)
  point P40 (-1.4951, 7.8356)
  point P41 (-1.5269, 7.9432)
  point P42 (-1.7318, 8.3125)
  point P43 (-2.4019, 8.9748)
  point P44 (-2.9606, 8.7932)
  point P45 (-3.1135, 7.8636)
  point P46 (-3.0623, 7.4444)
  point P47 (-3.0246, 7.3386)
  point P48 (-2.5815, 6.5)
  point P49 (-3.4412, 5.8754)
  point P50 (-4.1018, 6.556)
  point P51 (-4.1907, 6.6245)
  point P52 (-4.5736, 6.8028)
  point P53 (-5.505, 6.9446)
  point P54 (-5.8503, 6.4694)
  point P55 (-5.4276, 5.6274)
  point P56 (-5.1397, 5.3184)
  point P57 (-5.5707, 3.9917)
  point P58 (-5.9853, 3.9109)
  point P59 (-6.8222, 3.4782)
  point P60 (-6.8222, 2.8908)
  point P61 (-5.9853, 2.4581)
  point P62 (-5.5707, 2.3773)
  point P63 (-5.1397, 1.0507)
  point P64 (-5.4276, 0.7416)
  point P65 (-5.8503, -0.1003)
  point P66 (-5.505, -0.5756)
  point P67 (-4.5736, -0.4337)
  point P68 (-4.1907, -0.2554)
  point P69 (-3.0623, -1.0753)
  point P70 (-3.1135, -1.4946)
  point P71 (-2.9606, -2.4242)
  point P72 (-2.4019, -2.6058)
  point P73 (-1.7318, -1.9435)
  point P74 (-1.5268, -1.5742)
  point P75 (-1.4951, -1.4665)
  dimension "d2" = 360
  dimension "d4" = 4
extrude "押し出し1" add sketch "スケッチ1" along normal blind 5
properties part number "m1歯数10焼結ギア5td4" material "鋼、炭素鋼"
